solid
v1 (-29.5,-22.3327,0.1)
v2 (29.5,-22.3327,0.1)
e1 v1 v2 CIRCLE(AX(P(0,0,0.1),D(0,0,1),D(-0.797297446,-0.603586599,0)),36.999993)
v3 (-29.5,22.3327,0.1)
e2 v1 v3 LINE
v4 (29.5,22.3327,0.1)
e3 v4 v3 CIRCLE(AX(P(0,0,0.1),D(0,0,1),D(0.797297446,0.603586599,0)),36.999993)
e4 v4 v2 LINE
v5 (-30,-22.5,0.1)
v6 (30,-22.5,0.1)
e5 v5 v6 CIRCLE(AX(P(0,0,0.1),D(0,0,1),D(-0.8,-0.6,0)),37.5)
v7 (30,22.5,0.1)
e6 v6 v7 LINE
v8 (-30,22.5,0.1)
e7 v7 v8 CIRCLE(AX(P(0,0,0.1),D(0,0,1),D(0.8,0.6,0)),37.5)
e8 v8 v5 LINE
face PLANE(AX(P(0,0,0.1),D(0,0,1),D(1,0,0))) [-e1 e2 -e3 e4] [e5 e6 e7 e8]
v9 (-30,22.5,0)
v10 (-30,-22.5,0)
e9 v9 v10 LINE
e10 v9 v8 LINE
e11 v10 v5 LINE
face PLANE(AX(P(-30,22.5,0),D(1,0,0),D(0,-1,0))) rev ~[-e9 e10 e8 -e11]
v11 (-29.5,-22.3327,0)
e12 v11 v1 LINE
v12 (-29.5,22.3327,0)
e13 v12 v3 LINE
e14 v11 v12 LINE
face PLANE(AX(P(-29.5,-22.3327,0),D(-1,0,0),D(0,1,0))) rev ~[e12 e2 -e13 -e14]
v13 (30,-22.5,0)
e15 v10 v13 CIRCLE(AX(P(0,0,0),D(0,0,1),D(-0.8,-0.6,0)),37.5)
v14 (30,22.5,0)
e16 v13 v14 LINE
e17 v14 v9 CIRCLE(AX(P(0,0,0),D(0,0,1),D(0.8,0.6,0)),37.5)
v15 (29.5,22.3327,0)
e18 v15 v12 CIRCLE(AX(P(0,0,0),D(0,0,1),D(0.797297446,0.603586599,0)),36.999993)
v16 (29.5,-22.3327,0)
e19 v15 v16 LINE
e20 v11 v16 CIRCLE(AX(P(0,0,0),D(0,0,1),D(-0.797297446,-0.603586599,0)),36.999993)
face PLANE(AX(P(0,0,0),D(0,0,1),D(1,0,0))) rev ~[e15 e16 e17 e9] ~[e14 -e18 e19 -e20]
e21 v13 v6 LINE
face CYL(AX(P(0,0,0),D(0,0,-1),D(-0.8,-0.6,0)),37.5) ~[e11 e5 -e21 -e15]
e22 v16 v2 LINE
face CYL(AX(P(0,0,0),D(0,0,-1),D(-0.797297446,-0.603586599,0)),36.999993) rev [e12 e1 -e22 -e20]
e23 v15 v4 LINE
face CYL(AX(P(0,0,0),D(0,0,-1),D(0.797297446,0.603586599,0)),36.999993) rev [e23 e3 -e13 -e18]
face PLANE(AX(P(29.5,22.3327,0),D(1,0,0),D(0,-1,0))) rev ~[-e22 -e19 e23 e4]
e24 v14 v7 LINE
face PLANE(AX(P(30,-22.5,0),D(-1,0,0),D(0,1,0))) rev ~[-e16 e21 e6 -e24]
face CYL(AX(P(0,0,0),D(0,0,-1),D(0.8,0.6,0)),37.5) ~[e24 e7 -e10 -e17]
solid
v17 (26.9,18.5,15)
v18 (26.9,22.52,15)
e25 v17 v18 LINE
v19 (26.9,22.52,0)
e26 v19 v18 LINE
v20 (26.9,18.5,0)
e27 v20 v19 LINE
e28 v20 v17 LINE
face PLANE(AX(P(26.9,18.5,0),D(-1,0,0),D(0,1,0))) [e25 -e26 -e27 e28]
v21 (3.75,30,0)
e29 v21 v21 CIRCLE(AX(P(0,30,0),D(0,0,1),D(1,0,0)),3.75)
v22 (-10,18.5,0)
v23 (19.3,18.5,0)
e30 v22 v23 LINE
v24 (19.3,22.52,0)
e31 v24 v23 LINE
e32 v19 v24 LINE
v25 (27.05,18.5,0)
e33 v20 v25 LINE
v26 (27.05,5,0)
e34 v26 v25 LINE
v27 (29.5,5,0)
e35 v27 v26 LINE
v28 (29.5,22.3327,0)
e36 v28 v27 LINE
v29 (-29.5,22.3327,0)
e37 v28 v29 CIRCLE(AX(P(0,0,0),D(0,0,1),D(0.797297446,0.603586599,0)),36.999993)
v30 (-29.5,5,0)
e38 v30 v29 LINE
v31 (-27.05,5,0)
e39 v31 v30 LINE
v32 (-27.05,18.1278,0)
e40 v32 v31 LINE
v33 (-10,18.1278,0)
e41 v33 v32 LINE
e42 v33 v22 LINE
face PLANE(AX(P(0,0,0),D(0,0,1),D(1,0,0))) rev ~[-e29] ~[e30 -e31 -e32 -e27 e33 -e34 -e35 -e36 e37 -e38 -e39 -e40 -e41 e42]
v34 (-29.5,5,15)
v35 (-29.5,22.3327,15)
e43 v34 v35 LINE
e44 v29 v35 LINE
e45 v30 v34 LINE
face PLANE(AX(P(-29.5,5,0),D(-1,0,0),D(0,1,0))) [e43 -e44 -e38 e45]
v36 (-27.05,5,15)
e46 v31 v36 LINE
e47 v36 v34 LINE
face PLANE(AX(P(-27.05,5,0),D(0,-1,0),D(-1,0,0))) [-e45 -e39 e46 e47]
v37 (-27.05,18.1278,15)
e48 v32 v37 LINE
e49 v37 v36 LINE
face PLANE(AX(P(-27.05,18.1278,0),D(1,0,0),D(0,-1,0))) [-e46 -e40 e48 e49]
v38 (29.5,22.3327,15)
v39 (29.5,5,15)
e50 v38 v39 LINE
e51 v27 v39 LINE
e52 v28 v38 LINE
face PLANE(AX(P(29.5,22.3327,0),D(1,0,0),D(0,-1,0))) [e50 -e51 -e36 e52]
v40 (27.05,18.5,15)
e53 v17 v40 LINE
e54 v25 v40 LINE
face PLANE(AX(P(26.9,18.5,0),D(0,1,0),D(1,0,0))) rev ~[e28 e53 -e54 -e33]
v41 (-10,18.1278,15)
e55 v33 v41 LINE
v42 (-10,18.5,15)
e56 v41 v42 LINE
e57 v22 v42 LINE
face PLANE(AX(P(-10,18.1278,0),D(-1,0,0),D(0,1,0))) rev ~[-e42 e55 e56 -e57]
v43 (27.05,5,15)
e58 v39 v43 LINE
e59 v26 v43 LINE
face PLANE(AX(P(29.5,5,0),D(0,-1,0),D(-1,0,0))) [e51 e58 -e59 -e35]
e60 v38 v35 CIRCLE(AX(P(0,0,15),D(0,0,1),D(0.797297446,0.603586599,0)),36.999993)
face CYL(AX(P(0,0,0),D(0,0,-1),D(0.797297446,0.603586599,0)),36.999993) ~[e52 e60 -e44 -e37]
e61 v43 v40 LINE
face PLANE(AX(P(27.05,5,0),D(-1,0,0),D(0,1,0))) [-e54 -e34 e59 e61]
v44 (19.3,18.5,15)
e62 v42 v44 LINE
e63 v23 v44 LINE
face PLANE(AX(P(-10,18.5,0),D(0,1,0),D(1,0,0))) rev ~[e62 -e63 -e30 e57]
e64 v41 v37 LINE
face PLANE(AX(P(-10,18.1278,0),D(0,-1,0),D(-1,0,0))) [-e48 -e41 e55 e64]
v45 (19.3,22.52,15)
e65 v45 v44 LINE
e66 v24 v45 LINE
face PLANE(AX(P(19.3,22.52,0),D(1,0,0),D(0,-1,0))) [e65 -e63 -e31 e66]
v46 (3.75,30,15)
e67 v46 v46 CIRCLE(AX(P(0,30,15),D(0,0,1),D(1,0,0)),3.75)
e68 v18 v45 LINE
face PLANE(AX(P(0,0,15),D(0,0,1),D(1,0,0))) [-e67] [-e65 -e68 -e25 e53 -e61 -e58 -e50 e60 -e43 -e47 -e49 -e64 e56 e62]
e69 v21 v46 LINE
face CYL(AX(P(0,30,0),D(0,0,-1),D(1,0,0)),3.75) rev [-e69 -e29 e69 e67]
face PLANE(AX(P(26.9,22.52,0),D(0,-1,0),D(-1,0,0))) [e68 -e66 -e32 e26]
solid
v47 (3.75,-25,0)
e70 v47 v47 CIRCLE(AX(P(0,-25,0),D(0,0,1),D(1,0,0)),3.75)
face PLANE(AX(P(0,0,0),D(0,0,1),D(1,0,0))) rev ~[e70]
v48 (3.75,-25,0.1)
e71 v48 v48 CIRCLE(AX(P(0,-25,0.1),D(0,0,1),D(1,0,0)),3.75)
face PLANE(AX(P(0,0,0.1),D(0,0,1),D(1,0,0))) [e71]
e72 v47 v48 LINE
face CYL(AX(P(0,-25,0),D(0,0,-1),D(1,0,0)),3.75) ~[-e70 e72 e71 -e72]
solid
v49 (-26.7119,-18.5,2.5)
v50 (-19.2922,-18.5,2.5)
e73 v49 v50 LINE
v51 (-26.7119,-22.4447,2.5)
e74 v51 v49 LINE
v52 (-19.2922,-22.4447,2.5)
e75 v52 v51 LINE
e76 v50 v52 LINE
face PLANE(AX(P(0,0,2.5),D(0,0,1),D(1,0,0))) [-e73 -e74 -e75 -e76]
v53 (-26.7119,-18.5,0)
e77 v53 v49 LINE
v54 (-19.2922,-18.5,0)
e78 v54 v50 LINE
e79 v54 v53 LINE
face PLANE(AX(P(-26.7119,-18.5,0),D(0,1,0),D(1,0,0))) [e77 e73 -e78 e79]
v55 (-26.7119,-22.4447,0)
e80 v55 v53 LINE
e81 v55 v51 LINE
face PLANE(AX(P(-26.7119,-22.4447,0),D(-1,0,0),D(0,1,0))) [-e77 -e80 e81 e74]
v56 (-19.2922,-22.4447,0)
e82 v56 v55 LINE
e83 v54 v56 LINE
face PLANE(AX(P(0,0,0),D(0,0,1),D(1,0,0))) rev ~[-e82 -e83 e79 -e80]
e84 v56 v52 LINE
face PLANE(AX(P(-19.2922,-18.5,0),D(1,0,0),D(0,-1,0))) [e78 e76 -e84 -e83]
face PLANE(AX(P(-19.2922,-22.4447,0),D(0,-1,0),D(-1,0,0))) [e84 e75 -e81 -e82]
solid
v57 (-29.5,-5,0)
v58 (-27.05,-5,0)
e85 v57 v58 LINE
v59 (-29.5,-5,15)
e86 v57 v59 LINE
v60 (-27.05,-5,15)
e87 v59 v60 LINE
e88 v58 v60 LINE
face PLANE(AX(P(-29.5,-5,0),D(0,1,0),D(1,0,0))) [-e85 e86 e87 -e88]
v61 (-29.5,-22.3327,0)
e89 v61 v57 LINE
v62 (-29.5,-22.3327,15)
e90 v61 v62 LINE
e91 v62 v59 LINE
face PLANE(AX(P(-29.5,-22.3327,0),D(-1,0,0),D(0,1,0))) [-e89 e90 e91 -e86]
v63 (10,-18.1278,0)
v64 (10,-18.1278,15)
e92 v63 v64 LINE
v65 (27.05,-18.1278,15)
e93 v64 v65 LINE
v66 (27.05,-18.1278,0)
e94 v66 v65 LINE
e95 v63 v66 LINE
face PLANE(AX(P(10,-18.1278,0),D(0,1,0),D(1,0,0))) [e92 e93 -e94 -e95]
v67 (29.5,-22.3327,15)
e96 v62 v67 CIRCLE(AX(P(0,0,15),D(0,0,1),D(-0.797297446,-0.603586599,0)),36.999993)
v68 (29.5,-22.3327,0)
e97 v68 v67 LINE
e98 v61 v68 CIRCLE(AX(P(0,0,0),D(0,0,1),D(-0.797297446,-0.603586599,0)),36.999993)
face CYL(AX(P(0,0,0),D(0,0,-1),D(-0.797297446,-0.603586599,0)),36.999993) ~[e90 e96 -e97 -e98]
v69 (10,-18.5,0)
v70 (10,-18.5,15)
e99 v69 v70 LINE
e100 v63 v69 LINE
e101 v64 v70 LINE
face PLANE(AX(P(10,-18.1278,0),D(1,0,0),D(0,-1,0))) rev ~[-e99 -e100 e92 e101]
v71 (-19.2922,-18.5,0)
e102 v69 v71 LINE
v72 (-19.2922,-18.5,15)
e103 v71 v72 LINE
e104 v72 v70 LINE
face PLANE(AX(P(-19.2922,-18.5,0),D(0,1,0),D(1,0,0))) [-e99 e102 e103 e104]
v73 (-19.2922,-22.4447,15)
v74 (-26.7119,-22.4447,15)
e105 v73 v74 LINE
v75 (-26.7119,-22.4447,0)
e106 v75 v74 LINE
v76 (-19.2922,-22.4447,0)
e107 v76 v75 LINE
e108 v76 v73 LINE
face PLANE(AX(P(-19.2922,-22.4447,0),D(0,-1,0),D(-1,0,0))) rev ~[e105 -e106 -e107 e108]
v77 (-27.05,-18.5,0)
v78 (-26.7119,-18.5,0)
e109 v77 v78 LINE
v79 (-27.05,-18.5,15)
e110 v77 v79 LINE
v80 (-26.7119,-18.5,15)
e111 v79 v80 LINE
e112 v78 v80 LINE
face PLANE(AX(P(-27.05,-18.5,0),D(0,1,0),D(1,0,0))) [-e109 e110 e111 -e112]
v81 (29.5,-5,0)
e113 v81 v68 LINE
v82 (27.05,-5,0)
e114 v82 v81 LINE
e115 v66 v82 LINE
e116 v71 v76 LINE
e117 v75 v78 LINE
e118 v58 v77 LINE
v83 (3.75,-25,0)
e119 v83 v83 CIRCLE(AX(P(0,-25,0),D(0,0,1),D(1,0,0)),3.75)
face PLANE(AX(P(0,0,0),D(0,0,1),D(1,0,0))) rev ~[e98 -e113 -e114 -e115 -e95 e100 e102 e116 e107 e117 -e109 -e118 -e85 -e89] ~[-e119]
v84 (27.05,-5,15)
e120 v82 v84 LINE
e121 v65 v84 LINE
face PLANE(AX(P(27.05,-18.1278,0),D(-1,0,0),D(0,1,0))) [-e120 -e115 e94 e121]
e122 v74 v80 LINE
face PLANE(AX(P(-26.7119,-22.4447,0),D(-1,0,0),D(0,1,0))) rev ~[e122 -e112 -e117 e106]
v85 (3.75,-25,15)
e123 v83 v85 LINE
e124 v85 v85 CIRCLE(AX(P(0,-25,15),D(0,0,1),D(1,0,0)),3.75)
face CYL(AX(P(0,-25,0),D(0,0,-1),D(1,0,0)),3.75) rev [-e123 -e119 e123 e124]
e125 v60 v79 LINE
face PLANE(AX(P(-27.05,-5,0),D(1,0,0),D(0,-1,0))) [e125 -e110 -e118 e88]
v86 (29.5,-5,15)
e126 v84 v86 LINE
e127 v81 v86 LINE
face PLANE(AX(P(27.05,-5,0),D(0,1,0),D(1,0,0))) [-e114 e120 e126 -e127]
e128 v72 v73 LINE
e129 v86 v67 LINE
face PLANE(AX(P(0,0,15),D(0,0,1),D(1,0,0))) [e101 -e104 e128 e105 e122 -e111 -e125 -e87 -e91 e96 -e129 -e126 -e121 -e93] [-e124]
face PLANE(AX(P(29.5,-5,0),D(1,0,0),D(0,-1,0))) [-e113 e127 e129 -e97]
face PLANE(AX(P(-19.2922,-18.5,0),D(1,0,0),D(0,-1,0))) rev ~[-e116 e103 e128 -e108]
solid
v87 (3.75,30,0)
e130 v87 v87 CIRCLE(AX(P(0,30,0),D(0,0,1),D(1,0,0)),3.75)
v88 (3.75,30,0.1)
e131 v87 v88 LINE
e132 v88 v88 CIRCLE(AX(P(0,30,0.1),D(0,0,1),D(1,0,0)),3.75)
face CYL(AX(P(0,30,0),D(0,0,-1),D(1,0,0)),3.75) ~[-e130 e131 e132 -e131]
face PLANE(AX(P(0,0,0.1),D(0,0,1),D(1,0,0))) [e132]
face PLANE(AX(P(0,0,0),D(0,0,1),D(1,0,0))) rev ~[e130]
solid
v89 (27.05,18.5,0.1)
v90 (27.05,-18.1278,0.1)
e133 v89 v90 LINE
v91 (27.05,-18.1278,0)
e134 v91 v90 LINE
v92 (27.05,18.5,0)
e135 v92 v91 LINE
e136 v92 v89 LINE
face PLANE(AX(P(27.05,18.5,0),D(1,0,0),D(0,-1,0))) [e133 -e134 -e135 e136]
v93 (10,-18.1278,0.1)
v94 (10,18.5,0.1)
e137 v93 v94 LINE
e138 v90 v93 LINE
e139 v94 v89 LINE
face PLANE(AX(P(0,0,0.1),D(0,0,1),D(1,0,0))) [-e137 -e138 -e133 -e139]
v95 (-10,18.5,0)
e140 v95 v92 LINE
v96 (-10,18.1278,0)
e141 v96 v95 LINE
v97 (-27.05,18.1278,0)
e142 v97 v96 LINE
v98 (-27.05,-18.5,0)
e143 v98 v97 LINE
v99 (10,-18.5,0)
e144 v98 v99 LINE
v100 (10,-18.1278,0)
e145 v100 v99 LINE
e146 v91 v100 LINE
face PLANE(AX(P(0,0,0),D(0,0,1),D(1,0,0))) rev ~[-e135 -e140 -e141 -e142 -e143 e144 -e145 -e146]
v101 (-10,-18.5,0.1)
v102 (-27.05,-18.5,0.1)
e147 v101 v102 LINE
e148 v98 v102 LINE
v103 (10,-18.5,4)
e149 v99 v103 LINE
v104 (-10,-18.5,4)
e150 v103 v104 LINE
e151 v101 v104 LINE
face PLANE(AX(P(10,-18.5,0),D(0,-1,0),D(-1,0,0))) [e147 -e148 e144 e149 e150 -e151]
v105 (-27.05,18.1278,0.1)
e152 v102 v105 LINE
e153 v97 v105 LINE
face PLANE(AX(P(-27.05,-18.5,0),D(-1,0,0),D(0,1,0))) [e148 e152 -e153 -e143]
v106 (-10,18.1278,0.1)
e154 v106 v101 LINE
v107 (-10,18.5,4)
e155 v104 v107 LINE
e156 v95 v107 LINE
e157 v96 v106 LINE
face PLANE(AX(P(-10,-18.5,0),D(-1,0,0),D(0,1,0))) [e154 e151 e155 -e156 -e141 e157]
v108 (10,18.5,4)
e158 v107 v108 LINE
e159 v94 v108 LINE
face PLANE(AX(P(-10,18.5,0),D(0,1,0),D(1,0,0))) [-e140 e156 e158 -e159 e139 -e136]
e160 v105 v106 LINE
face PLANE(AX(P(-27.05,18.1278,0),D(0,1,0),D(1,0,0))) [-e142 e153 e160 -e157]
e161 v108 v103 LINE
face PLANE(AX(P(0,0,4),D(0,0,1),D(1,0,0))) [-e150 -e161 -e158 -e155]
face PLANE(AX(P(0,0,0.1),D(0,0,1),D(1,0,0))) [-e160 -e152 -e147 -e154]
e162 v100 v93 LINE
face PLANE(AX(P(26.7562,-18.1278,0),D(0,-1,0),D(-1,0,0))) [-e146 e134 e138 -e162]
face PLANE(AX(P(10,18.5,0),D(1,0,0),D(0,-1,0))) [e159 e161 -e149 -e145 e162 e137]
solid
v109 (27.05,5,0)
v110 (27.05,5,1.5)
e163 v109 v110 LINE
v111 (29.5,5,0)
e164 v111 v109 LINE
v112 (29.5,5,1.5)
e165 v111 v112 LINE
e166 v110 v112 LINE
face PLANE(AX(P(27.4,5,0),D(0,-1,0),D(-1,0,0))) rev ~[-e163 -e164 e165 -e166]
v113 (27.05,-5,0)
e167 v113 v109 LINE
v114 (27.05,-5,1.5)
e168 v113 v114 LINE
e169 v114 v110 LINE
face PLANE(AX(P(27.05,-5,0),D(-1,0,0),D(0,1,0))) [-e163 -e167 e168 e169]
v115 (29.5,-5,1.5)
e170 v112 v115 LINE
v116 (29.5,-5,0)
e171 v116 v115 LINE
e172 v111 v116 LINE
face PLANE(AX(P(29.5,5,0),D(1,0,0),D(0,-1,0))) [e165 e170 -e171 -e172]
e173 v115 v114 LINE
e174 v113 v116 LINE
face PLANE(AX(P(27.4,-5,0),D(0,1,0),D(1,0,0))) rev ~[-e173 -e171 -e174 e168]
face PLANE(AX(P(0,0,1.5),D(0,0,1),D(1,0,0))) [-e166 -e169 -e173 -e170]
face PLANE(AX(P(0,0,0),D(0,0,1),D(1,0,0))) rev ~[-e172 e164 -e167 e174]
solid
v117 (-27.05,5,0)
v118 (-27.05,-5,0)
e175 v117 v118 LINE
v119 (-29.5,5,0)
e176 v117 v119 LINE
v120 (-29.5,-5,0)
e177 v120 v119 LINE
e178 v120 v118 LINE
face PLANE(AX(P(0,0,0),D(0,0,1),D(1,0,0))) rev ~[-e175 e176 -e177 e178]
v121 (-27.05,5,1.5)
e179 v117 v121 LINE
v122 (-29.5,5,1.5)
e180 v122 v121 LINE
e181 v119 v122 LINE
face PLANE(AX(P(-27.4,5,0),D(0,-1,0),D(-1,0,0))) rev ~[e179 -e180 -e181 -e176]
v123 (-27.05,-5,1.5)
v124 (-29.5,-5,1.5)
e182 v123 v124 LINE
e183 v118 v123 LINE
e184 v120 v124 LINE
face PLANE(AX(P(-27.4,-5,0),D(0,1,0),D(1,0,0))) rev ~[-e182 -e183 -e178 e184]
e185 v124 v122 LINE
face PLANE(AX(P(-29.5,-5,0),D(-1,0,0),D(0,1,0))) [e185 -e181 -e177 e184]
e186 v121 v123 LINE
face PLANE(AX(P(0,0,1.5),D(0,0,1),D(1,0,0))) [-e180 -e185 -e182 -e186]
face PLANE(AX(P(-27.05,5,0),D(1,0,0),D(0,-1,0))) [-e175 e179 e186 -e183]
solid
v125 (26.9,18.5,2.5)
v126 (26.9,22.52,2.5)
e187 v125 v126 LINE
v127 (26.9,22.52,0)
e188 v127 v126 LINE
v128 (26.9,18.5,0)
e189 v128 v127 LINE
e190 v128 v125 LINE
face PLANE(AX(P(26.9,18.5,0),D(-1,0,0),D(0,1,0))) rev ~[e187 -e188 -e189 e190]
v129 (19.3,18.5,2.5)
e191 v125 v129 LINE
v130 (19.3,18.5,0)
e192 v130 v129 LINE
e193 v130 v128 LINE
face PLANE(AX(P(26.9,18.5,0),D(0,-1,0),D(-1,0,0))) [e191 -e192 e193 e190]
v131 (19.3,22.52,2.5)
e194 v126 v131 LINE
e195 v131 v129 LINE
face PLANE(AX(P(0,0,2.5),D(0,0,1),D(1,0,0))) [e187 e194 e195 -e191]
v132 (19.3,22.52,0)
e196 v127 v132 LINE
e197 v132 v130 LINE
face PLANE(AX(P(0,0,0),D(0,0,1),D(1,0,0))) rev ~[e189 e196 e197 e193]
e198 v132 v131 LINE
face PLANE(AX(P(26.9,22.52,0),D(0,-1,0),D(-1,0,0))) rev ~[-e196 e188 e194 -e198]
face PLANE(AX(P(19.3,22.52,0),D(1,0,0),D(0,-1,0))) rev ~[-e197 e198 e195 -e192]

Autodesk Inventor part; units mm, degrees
ref_plane "YZ Plane" through (0, 0, 0) normal (1, 0, 0) x (0, 1, 0)
ref_plane "XZ Plane" through (0, 0, 0) normal (0, 1, 0) x (-1, 0, 0)
ref_plane "XY Plane" through (0, 0, 0) normal (0, 0, 1) x (1, 0, 0)
ref_plane "Work Plane1" through (0, 40.5, -6.5875) normal (0, 1, 0) x (1, 0, 0)
ref_plane "Work Plane2" through (0, 0, 0) normal (0, 0, 1) x (1, 0, 0)
sketch "KEEPOUT_BOT_0.1MM_S" plane through (0, 0, 0) normal (0, 0, 1) x (1, 0, 0)
  circle A0 centre (0, -25) radius 1.75 projected
  circle A1 centre (-14, -14) radius 1.75 projected
  circle A2 centre (22, -14) radius 1.75 projected
  circle A3 centre (14, 14) radius 1.75 projected
  circle A4 centre (-22, 14) radius 1.75 projected
  circle A5 centre (0, 30) radius 1.75 projected
  line L0 (-30, 22.5) -> (-30, -22.5) projected
  arc A6 (-30, -22.5) -> (30, -22.5) centre (0, 0) ccw projected
  line L1 (30, -22.5) -> (30, 22.5) projected
  arc A7 (30, 22.5) -> (-30, 22.5) centre (0, 0) ccw projected
  circle A8 centre (0, -25) radius 3.75 projected
  circle A9 centre (0, 30) radius 3.75 projected
  circle A10 centre (-22, 14) radius 1.75 projected
  circle A11 centre (-14, -14) radius 1.75 projected
  line L2 (-18.5, 11.6278) -> (-26.55, 11.6278) projected
  arc A12 (-16.5, 9.6278) -> (-18.5, 11.6278) centre (-18.5, 9.6278) ccw projected
  line L3 (-16.5, -17) -> (-16.5, 9.6278) projected
  arc A13 (-16.7679, -18) -> (-16.5, -17) centre (-18.5, -17) ccw projected
  line L4 (-16.7679, -18) -> (-12.5, -18) projected
  arc A14 (-12.5, -18) -> (-10.5, -16) centre (-12.5, -16) ccw projected
  line L5 (-10.5, 15.6278) -> (-10.5, -16) projected
  arc A15 (-10.5, 15.6278) -> (-12.5, 17.6278) centre (-12.5, 15.6278) ccw projected
  line L6 (-24.55, 17.6278) -> (-12.5, 17.6278) projected
  arc A16 (-24.55, 17.6278) -> (-26.55, 15.6278) centre (-24.55, 15.6278) ccw projected
  line L7 (-26.55, 11.6278) -> (-26.55, 15.6278) projected
  circle A17 centre (22, -14) radius 1.75 projected
  circle A18 centre (14, 14) radius 1.75 projected
  line L8 (18.5, -11.6278) -> (26.55, -11.6278) projected
  arc A19 (16.5, -9.6278) -> (18.5, -11.6278) centre (18.5, -9.6278) ccw projected
  line L9 (16.5, 17) -> (16.5, -9.6278) projected
  arc A20 (16.7679, 18) -> (16.5, 17) centre (18.5, 17) ccw projected
  line L10 (16.7679, 18) -> (12.5, 18) projected
  arc A21 (12.5, 18) -> (10.5, 16) centre (12.5, 16) ccw projected
  line L11 (10.5, -15.6278) -> (10.5, 16) projected
  arc A22 (10.5, -15.6278) -> (12.5, -17.6278) centre (12.5, -15.6278) ccw projected
  line L12 (24.55, -17.6278) -> (12.5, -17.6278) projected
  arc A23 (24.55, -17.6278) -> (26.55, -15.6278) centre (24.55, -15.6278) ccw projected
  line L13 (26.55, -11.6278) -> (26.55, -15.6278) projected
  line L14 (23.1, 22.02) -> (24.3, 22.02) projected
  line L15 (26.55, -15.6278) -> (26.55, 4.9922) projected
  line L16 (-23.1, -22.02) -> (-24.3, -22.02) projected
  line L17 (-26.55, -11.0422) -> (-26.55, -17) projected
  line L18 (26.7562, -18.1278) -> (10, -18.1278)
  line L19 (10, -18.1278) -> (10, 18.5)
  line L20 (10, 18.5) -> (27.05, 18.5)
  line L21 (27.05, 18.5) -> (27.05, -18.1278)
  line L22 (27.05, -18.1278) -> (26.7562, -18.1278)
  line L23 (-10, -18.5) -> (-27.05, -18.5)
  line L24 (-27.05, -18.5) -> (-27.05, 18.1278)
  line L25 (-27.05, 18.1278) -> (-10, 18.1278)
  line L26 (-10, 18.1278) -> (-10, -18.5)
  arc A24 (-29.5, -22.3327) -> (29.5, -22.3327) centre (0, 0) ccw
  line L27 (-29.5, -22.3327) -> (-29.5, 22.3327)
  arc A25 (29.5, 22.3327) -> (-29.5, 22.3327) centre (0, 0) ccw
  line L28 (29.5, 22.3327) -> (29.5, -22.3327)
  point P0 (0, 0)
  dimension "d0" = 0.5
  dimension "d1" = 0.5
  dimension "d2" = 0.5
  dimension "d3" = 0.5
  dimension "d4" = 0.5
  dimension "d5" = 0.5
  dimension "d6" = 0.5
  dimension "d7" = 0.5
  dimension "d12" = 0.5
extrude "KEEPUT_BOT_0.1MM" add sketch "KEEPOUT_BOT_0.1MM_S" along normal blind 0.1 contours A0 | A1 | A2 | A3 | A4 | A5 | A7 L1 A6 L0 | A8 | A9 | L2 L7 A16 L6 A15 L5 A14 L4 A13 L3 A12 | L8 L13 A23 L12 A22 L11 A21 L10 A20 L9 A19 | L18 L19 L20 L21 L22 | L23 L24 L25 L26
ref_plane "Work Plane3" through (0, 0, 0) normal (0, 0, 1) x (1, 0, 0)
sketch "KEEPOUT_BOT_1.5MM_S" plane through (0, 0, 0) normal (0, 0, 1) x (1, 0, 0)
  line L0 (10, -18.1278) -> (27.05, -18.1278)
  line L1 (27.05, -18.1278) -> (27.05, 18.5)
  line L2 (27.05, 18.5) -> (10, 18.5)
  line L3 (10, 18.5) -> (10, -18.1278)
  line L4 (21.9, 22.02) -> (23.1, 22.02)
  line L5 (19.8, 18.35) -> (19.8, 20.35)
  line L6 (27.05, 18.5) -> (19.3, 18.5)
  line L7 (19.3, 18.5) -> (19.3, 22.52)
  line L8 (19.3, 22.52) -> (27.05, 22.52)
  line L9 (27.05, 22.52) -> (27.05, 18.5)
  line L10 (27.4, -5) -> (30.4, -5)
  line L11 (27.4, 5) -> (30.4, 5)
  line L12 (-29.5, -22.3327) -> (-29.5, 22.3327)
  arc A0 (29.5, 22.3327) -> (-29.5, 22.3327) centre (0, 0) ccw
  line L13 (29.5, 22.3327) -> (29.5, -22.3327)
  arc A1 (-29.5, -22.3327) -> (29.5, -22.3327) centre (0, 0) ccw
  line L14 (-30, 22.5) -> (-30, -22.5)
  arc A2 (-30, -22.5) -> (30, -22.5) centre (0, 0) ccw
  line L15 (30, -22.5) -> (30, 22.5)
  arc A3 (30, 22.5) -> (-30, 22.5) centre (0, 0) ccw
  line L16 (29.5, 22.3327) -> (29.5, -22.3327)
  line L17 (27.05, 18.5) -> (27.05, -18.1278)
  line L18 (29.5, 5) -> (27.05, 5)
  line L19 (27.05, 5) -> (27.05, -5)
  line L20 (27.05, -5) -> (29.5, -5)
  line L21 (29.5, -5) -> (29.5, 5)
  line L22 (-27.05, -18.5) -> (-10, -18.5)
  line L23 (-10, -18.5) -> (-10, 18.1278)
  line L24 (-10, 18.1278) -> (-27.05, 18.1278)
  line L25 (-27.05, 18.1278) -> (-27.05, -18.5)
  line L26 (-27.4, 5) -> (-30.4, 5)
  line L27 (-27.4, -5) -> (-30.4, -5)
  line L28 (-29.5, 22.3327) -> (-29.5, -22.3327)
  line L29 (-29.5, -5) -> (-27.05, -5)
  line L30 (-27.05, -5) -> (-27.05, 5)
  line L31 (-27.05, 5) -> (-29.5, 5)
  line L32 (-29.5, 5) -> (-29.5, -5)
  line L33 (-23.1, -22.02) -> (-24.3, -22.02)
  line L34 (-19.8, -10.37) -> (-19.8, -19.37)
  line L35 (-10, -18.5) -> (-27.05, -18.5)
  line L36 (-27.05, -18.5) -> (-19.8, -18.5)
  line L37 (-19.8, -18.5) -> (-19.8, -22.02)
  line L38 (-19.8, -22.02) -> (-27.05, -22.02)
  line L39 (-27.05, -22.02) -> (-27.05, -18.5)
  point P0 (0, 0)
extrude "KEEPOUT_BOT_1.5MM" add sketch "KEEPOUT_BOT_1.5MM_S" along normal blind 1.5 separate body contours L1 L18 L11 L13 L10 L20 | L12 L26 L31 L25 L29 L27
ref_plane "Work Plane4" through (0, 0, 0) normal (0, 0, 1) x (1, 0, 0)
sketch "KEEPOUT_BOT_2.5MM_S" plane through (0, 0, 0) normal (0, 0, 1) x (1, 0, 0)
  line L0 (23.1, 22.02) -> (24.3, 22.02) projected
  line L1 (19.8, 10.37) -> (19.8, 19.37) projected
  line L2 (26.4, 10.37) -> (26.4, 19.37) projected
  line L3 (27.05, 18.5) -> (10, 18.5) projected
  line L4 (19.3, 18.5) -> (26.9, 18.5)
  line L5 (26.9, 18.5) -> (26.9, 22.52)
  line L6 (26.9, 22.52) -> (19.3, 22.52)
  line L7 (19.3, 22.52) -> (19.3, 18.5)
  line L8 (-23.1, -22.02) -> (-24.3, -22.02) projected
  line L9 (-19.8, -20.35) -> (-19.8, -10.37) projected
  line L10 (-26.4, -10.37) -> (-26.4, -19.37) projected
  line L11 (-27.05, -18.5) -> (-10, -18.5) projected
  line L12 (-26.7119, -18.5) -> (-19.2922, -18.5)
  line L13 (-19.2922, -18.5) -> (-19.2922, -22.4447)
  line L14 (-19.2922, -22.4447) -> (-26.7119, -22.4447)
  line L15 (-26.7119, -22.4447) -> (-26.7119, -18.5)
  point P0 (0, 0)
  dimension "d15" = 0.5
  dimension "d16" = 0.5
  dimension "d17" = 0.5
extrude "KEEPOUT_BOT_2.5MM" add sketch "KEEPOUT_BOT_2.5MM_S" along normal blind 2.5 separate body
ref_plane "Work Plane5" through (0, 0, 0) normal (0, 0, 1) x (1, 0, 0)
sketch "KEEPOUT_BOT_4MM_s" plane through (0, 0, 0) normal (0, 0, 1) x (1, 0, 0)
  circle A0 centre (22, -14) radius 1.75 projected
  circle A1 centre (14, 14) radius 1.75 projected
  line L0 (18.5, -11.6278) -> (26.55, -11.6278) projected
  arc A2 (16.5, -9.6278) -> (18.5, -11.6278) centre (18.5, -9.6278) ccw projected
  line L1 (16.5, 17) -> (16.5, -9.6278) projected
  arc A3 (16.7679, 18) -> (16.5, 17) centre (18.5, 17) ccw projected
  line L2 (16.7679, 18) -> (12.5, 18) projected
  arc A4 (12.5, 18) -> (10.5, 16) centre (12.5, 16) ccw projected
  line L3 (10.5, -15.6278) -> (10.5, 16) projected
  arc A5 (10.5, -15.6278) -> (12.5, -17.6278) centre (12.5, -15.6278) ccw projected
  line L4 (24.55, -17.6278) -> (12.5, -17.6278) projected
  arc A6 (24.55, -17.6278) -> (26.55, -15.6278) centre (24.55, -15.6278) ccw projected
  line L5 (26.55, -11.6278) -> (26.55, -15.6278) projected
  circle A7 centre (-22, 14) radius 1.75 projected
  circle A8 centre (-14, -14) radius 1.75 projected
  line L6 (-18.5, 11.6278) -> (-26.55, 11.6278) projected
  arc A9 (-16.5, 9.6278) -> (-18.5, 11.6278) centre (-18.5, 9.6278) ccw projected
  line L7 (-16.5, -17) -> (-16.5, 9.6278) projected
  arc A10 (-16.7679, -18) -> (-16.5, -17) centre (-18.5, -17) ccw projected
  line L8 (-16.7679, -18) -> (-12.5, -18) projected
  arc A11 (-12.5, -18) -> (-10.5, -16) centre (-12.5, -16) ccw projected
  line L9 (-10.5, 15.6278) -> (-10.5, -16) projected
  arc A12 (-10.5, 15.6278) -> (-12.5, 17.6278) centre (-12.5, 15.6278) ccw projected
  line L10 (-24.55, 17.6278) -> (-12.5, 17.6278) projected
  arc A13 (-24.55, 17.6278) -> (-26.55, 15.6278) centre (-24.55, 15.6278) ccw projected
  line L11 (-26.55, 11.6278) -> (-26.55, 15.6278) projected
  line L12 (10, -18.5) -> (-10, -18.5)
  line L13 (-10, -18.5) -> (-10, 18.5)
  line L14 (-10, 18.5) -> (10, 18.5)
  line L15 (10, 18.5) -> (10, -18.5)
  point P0 (0, 0)
extrude "KEEPOUT_BOT_4MM" add sketch "KEEPOUT_BOT_4MM_s" along normal blind 4 contours L12 L13 L14 L15 bodies 1
ref_plane "Work Plane6" through (0, 0, 0) normal (0, 0, 1) x (1, 0, 0)
sketch "KEEPOUT_BOT_15MM_S" plane through (0, 0, 0) normal (0, 0, 1) x (1, 0, 0)
  arc A0 (-29.5, -22.3327) -> (29.5, -22.3327) centre (0, 0) ccw projected
  line L0 (29.5, 22.3327) -> (29.5, -22.3327) projected
  line L1 (27.05, -5) -> (29.5, -5) projected
  line L2 (27.05, -18.1278) -> (27.05, 18.5) projected
  line L3 (10, -18.1278) -> (27.05, -18.1278) projected
  line L4 (-10, -18.5) -> (10, -18.5) projected
  line L5 (-27.05, -18.5) -> (-10, -18.5) projected
  line L6 (-19.2922, -18.5) -> (-19.2922, -22.4447) projected
  line L7 (-19.2922, -22.4447) -> (-26.7119, -22.4447) projected
  line L8 (-26.7119, -22.4447) -> (-26.7119, -18.5) projected
  line L9 (-27.05, 18.1278) -> (-27.05, -18.5) projected
  line L10 (-29.5, -5) -> (-27.05, -5) projected
  line L11 (-29.5, -22.3327) -> (-29.5, 22.3327) projected
  line L12 (-27.05, 5) -> (-29.5, 5) projected
  line L13 (-10, 18.1278) -> (-27.05, 18.1278) projected
  line L14 (-10, 18.1278) -> (-10, 18.5) projected
  line L15 (-10, 18.5) -> (27.05, 18.5) projected
  arc A1 (29.5, 22.3327) -> (-29.5, 22.3327) centre (0, 0) ccw projected
  circle A2 centre (0, -25) radius 3.75 projected
  circle A3 centre (0, 30) radius 3.75 projected
  line L16 (29.5, 5) -> (27.05, 5) projected
  line L17 (19.3, 18.5) -> (26.9, 18.5) projected
  line L18 (26.9, 18.5) -> (26.9, 22.52) projected
  line L19 (26.9, 22.52) -> (19.3, 22.52) projected
  line L20 (19.3, 22.52) -> (19.3, 18.5) projected
  line L21 (10, -18.1278) -> (10, -18.5) projected
  line L22 (-24.93, -13.25) -> (-24.93, -1.6425) projected
  line L23 (-29.5, 22.3327) -> (-29.5, -22.3327) projected
  point P0 (0, 0)
extrude "KEEPOUT_BOT_15MM" add sketch "KEEPOUT_BOT_15MM_S" along normal blind 15 separate body contours L11 L10 L9 L5 L8 L7 L6 L4 L21 L3 L2 L1 L0 A0 | L11 A1 L0 L16 L2 L15 L18 L19 L20 L14 L13 L9 L12
equation "\"d1\" = d0"
equation "\"d2\" = d1"
equation "\"d3\" = d0"
equation "\"d4\" = d1"
equation "\"d5\" = d1"
equation "\"d6\" = d3"
equation "\"d7\" = d3"
equation "\"d16\" = d15"
equation "\"d17\" = d15"
equation "\"d11\" = d10"
equation "\"d10\" = 0.5"
properties part number "KEEPOUT_BOTTOM"
